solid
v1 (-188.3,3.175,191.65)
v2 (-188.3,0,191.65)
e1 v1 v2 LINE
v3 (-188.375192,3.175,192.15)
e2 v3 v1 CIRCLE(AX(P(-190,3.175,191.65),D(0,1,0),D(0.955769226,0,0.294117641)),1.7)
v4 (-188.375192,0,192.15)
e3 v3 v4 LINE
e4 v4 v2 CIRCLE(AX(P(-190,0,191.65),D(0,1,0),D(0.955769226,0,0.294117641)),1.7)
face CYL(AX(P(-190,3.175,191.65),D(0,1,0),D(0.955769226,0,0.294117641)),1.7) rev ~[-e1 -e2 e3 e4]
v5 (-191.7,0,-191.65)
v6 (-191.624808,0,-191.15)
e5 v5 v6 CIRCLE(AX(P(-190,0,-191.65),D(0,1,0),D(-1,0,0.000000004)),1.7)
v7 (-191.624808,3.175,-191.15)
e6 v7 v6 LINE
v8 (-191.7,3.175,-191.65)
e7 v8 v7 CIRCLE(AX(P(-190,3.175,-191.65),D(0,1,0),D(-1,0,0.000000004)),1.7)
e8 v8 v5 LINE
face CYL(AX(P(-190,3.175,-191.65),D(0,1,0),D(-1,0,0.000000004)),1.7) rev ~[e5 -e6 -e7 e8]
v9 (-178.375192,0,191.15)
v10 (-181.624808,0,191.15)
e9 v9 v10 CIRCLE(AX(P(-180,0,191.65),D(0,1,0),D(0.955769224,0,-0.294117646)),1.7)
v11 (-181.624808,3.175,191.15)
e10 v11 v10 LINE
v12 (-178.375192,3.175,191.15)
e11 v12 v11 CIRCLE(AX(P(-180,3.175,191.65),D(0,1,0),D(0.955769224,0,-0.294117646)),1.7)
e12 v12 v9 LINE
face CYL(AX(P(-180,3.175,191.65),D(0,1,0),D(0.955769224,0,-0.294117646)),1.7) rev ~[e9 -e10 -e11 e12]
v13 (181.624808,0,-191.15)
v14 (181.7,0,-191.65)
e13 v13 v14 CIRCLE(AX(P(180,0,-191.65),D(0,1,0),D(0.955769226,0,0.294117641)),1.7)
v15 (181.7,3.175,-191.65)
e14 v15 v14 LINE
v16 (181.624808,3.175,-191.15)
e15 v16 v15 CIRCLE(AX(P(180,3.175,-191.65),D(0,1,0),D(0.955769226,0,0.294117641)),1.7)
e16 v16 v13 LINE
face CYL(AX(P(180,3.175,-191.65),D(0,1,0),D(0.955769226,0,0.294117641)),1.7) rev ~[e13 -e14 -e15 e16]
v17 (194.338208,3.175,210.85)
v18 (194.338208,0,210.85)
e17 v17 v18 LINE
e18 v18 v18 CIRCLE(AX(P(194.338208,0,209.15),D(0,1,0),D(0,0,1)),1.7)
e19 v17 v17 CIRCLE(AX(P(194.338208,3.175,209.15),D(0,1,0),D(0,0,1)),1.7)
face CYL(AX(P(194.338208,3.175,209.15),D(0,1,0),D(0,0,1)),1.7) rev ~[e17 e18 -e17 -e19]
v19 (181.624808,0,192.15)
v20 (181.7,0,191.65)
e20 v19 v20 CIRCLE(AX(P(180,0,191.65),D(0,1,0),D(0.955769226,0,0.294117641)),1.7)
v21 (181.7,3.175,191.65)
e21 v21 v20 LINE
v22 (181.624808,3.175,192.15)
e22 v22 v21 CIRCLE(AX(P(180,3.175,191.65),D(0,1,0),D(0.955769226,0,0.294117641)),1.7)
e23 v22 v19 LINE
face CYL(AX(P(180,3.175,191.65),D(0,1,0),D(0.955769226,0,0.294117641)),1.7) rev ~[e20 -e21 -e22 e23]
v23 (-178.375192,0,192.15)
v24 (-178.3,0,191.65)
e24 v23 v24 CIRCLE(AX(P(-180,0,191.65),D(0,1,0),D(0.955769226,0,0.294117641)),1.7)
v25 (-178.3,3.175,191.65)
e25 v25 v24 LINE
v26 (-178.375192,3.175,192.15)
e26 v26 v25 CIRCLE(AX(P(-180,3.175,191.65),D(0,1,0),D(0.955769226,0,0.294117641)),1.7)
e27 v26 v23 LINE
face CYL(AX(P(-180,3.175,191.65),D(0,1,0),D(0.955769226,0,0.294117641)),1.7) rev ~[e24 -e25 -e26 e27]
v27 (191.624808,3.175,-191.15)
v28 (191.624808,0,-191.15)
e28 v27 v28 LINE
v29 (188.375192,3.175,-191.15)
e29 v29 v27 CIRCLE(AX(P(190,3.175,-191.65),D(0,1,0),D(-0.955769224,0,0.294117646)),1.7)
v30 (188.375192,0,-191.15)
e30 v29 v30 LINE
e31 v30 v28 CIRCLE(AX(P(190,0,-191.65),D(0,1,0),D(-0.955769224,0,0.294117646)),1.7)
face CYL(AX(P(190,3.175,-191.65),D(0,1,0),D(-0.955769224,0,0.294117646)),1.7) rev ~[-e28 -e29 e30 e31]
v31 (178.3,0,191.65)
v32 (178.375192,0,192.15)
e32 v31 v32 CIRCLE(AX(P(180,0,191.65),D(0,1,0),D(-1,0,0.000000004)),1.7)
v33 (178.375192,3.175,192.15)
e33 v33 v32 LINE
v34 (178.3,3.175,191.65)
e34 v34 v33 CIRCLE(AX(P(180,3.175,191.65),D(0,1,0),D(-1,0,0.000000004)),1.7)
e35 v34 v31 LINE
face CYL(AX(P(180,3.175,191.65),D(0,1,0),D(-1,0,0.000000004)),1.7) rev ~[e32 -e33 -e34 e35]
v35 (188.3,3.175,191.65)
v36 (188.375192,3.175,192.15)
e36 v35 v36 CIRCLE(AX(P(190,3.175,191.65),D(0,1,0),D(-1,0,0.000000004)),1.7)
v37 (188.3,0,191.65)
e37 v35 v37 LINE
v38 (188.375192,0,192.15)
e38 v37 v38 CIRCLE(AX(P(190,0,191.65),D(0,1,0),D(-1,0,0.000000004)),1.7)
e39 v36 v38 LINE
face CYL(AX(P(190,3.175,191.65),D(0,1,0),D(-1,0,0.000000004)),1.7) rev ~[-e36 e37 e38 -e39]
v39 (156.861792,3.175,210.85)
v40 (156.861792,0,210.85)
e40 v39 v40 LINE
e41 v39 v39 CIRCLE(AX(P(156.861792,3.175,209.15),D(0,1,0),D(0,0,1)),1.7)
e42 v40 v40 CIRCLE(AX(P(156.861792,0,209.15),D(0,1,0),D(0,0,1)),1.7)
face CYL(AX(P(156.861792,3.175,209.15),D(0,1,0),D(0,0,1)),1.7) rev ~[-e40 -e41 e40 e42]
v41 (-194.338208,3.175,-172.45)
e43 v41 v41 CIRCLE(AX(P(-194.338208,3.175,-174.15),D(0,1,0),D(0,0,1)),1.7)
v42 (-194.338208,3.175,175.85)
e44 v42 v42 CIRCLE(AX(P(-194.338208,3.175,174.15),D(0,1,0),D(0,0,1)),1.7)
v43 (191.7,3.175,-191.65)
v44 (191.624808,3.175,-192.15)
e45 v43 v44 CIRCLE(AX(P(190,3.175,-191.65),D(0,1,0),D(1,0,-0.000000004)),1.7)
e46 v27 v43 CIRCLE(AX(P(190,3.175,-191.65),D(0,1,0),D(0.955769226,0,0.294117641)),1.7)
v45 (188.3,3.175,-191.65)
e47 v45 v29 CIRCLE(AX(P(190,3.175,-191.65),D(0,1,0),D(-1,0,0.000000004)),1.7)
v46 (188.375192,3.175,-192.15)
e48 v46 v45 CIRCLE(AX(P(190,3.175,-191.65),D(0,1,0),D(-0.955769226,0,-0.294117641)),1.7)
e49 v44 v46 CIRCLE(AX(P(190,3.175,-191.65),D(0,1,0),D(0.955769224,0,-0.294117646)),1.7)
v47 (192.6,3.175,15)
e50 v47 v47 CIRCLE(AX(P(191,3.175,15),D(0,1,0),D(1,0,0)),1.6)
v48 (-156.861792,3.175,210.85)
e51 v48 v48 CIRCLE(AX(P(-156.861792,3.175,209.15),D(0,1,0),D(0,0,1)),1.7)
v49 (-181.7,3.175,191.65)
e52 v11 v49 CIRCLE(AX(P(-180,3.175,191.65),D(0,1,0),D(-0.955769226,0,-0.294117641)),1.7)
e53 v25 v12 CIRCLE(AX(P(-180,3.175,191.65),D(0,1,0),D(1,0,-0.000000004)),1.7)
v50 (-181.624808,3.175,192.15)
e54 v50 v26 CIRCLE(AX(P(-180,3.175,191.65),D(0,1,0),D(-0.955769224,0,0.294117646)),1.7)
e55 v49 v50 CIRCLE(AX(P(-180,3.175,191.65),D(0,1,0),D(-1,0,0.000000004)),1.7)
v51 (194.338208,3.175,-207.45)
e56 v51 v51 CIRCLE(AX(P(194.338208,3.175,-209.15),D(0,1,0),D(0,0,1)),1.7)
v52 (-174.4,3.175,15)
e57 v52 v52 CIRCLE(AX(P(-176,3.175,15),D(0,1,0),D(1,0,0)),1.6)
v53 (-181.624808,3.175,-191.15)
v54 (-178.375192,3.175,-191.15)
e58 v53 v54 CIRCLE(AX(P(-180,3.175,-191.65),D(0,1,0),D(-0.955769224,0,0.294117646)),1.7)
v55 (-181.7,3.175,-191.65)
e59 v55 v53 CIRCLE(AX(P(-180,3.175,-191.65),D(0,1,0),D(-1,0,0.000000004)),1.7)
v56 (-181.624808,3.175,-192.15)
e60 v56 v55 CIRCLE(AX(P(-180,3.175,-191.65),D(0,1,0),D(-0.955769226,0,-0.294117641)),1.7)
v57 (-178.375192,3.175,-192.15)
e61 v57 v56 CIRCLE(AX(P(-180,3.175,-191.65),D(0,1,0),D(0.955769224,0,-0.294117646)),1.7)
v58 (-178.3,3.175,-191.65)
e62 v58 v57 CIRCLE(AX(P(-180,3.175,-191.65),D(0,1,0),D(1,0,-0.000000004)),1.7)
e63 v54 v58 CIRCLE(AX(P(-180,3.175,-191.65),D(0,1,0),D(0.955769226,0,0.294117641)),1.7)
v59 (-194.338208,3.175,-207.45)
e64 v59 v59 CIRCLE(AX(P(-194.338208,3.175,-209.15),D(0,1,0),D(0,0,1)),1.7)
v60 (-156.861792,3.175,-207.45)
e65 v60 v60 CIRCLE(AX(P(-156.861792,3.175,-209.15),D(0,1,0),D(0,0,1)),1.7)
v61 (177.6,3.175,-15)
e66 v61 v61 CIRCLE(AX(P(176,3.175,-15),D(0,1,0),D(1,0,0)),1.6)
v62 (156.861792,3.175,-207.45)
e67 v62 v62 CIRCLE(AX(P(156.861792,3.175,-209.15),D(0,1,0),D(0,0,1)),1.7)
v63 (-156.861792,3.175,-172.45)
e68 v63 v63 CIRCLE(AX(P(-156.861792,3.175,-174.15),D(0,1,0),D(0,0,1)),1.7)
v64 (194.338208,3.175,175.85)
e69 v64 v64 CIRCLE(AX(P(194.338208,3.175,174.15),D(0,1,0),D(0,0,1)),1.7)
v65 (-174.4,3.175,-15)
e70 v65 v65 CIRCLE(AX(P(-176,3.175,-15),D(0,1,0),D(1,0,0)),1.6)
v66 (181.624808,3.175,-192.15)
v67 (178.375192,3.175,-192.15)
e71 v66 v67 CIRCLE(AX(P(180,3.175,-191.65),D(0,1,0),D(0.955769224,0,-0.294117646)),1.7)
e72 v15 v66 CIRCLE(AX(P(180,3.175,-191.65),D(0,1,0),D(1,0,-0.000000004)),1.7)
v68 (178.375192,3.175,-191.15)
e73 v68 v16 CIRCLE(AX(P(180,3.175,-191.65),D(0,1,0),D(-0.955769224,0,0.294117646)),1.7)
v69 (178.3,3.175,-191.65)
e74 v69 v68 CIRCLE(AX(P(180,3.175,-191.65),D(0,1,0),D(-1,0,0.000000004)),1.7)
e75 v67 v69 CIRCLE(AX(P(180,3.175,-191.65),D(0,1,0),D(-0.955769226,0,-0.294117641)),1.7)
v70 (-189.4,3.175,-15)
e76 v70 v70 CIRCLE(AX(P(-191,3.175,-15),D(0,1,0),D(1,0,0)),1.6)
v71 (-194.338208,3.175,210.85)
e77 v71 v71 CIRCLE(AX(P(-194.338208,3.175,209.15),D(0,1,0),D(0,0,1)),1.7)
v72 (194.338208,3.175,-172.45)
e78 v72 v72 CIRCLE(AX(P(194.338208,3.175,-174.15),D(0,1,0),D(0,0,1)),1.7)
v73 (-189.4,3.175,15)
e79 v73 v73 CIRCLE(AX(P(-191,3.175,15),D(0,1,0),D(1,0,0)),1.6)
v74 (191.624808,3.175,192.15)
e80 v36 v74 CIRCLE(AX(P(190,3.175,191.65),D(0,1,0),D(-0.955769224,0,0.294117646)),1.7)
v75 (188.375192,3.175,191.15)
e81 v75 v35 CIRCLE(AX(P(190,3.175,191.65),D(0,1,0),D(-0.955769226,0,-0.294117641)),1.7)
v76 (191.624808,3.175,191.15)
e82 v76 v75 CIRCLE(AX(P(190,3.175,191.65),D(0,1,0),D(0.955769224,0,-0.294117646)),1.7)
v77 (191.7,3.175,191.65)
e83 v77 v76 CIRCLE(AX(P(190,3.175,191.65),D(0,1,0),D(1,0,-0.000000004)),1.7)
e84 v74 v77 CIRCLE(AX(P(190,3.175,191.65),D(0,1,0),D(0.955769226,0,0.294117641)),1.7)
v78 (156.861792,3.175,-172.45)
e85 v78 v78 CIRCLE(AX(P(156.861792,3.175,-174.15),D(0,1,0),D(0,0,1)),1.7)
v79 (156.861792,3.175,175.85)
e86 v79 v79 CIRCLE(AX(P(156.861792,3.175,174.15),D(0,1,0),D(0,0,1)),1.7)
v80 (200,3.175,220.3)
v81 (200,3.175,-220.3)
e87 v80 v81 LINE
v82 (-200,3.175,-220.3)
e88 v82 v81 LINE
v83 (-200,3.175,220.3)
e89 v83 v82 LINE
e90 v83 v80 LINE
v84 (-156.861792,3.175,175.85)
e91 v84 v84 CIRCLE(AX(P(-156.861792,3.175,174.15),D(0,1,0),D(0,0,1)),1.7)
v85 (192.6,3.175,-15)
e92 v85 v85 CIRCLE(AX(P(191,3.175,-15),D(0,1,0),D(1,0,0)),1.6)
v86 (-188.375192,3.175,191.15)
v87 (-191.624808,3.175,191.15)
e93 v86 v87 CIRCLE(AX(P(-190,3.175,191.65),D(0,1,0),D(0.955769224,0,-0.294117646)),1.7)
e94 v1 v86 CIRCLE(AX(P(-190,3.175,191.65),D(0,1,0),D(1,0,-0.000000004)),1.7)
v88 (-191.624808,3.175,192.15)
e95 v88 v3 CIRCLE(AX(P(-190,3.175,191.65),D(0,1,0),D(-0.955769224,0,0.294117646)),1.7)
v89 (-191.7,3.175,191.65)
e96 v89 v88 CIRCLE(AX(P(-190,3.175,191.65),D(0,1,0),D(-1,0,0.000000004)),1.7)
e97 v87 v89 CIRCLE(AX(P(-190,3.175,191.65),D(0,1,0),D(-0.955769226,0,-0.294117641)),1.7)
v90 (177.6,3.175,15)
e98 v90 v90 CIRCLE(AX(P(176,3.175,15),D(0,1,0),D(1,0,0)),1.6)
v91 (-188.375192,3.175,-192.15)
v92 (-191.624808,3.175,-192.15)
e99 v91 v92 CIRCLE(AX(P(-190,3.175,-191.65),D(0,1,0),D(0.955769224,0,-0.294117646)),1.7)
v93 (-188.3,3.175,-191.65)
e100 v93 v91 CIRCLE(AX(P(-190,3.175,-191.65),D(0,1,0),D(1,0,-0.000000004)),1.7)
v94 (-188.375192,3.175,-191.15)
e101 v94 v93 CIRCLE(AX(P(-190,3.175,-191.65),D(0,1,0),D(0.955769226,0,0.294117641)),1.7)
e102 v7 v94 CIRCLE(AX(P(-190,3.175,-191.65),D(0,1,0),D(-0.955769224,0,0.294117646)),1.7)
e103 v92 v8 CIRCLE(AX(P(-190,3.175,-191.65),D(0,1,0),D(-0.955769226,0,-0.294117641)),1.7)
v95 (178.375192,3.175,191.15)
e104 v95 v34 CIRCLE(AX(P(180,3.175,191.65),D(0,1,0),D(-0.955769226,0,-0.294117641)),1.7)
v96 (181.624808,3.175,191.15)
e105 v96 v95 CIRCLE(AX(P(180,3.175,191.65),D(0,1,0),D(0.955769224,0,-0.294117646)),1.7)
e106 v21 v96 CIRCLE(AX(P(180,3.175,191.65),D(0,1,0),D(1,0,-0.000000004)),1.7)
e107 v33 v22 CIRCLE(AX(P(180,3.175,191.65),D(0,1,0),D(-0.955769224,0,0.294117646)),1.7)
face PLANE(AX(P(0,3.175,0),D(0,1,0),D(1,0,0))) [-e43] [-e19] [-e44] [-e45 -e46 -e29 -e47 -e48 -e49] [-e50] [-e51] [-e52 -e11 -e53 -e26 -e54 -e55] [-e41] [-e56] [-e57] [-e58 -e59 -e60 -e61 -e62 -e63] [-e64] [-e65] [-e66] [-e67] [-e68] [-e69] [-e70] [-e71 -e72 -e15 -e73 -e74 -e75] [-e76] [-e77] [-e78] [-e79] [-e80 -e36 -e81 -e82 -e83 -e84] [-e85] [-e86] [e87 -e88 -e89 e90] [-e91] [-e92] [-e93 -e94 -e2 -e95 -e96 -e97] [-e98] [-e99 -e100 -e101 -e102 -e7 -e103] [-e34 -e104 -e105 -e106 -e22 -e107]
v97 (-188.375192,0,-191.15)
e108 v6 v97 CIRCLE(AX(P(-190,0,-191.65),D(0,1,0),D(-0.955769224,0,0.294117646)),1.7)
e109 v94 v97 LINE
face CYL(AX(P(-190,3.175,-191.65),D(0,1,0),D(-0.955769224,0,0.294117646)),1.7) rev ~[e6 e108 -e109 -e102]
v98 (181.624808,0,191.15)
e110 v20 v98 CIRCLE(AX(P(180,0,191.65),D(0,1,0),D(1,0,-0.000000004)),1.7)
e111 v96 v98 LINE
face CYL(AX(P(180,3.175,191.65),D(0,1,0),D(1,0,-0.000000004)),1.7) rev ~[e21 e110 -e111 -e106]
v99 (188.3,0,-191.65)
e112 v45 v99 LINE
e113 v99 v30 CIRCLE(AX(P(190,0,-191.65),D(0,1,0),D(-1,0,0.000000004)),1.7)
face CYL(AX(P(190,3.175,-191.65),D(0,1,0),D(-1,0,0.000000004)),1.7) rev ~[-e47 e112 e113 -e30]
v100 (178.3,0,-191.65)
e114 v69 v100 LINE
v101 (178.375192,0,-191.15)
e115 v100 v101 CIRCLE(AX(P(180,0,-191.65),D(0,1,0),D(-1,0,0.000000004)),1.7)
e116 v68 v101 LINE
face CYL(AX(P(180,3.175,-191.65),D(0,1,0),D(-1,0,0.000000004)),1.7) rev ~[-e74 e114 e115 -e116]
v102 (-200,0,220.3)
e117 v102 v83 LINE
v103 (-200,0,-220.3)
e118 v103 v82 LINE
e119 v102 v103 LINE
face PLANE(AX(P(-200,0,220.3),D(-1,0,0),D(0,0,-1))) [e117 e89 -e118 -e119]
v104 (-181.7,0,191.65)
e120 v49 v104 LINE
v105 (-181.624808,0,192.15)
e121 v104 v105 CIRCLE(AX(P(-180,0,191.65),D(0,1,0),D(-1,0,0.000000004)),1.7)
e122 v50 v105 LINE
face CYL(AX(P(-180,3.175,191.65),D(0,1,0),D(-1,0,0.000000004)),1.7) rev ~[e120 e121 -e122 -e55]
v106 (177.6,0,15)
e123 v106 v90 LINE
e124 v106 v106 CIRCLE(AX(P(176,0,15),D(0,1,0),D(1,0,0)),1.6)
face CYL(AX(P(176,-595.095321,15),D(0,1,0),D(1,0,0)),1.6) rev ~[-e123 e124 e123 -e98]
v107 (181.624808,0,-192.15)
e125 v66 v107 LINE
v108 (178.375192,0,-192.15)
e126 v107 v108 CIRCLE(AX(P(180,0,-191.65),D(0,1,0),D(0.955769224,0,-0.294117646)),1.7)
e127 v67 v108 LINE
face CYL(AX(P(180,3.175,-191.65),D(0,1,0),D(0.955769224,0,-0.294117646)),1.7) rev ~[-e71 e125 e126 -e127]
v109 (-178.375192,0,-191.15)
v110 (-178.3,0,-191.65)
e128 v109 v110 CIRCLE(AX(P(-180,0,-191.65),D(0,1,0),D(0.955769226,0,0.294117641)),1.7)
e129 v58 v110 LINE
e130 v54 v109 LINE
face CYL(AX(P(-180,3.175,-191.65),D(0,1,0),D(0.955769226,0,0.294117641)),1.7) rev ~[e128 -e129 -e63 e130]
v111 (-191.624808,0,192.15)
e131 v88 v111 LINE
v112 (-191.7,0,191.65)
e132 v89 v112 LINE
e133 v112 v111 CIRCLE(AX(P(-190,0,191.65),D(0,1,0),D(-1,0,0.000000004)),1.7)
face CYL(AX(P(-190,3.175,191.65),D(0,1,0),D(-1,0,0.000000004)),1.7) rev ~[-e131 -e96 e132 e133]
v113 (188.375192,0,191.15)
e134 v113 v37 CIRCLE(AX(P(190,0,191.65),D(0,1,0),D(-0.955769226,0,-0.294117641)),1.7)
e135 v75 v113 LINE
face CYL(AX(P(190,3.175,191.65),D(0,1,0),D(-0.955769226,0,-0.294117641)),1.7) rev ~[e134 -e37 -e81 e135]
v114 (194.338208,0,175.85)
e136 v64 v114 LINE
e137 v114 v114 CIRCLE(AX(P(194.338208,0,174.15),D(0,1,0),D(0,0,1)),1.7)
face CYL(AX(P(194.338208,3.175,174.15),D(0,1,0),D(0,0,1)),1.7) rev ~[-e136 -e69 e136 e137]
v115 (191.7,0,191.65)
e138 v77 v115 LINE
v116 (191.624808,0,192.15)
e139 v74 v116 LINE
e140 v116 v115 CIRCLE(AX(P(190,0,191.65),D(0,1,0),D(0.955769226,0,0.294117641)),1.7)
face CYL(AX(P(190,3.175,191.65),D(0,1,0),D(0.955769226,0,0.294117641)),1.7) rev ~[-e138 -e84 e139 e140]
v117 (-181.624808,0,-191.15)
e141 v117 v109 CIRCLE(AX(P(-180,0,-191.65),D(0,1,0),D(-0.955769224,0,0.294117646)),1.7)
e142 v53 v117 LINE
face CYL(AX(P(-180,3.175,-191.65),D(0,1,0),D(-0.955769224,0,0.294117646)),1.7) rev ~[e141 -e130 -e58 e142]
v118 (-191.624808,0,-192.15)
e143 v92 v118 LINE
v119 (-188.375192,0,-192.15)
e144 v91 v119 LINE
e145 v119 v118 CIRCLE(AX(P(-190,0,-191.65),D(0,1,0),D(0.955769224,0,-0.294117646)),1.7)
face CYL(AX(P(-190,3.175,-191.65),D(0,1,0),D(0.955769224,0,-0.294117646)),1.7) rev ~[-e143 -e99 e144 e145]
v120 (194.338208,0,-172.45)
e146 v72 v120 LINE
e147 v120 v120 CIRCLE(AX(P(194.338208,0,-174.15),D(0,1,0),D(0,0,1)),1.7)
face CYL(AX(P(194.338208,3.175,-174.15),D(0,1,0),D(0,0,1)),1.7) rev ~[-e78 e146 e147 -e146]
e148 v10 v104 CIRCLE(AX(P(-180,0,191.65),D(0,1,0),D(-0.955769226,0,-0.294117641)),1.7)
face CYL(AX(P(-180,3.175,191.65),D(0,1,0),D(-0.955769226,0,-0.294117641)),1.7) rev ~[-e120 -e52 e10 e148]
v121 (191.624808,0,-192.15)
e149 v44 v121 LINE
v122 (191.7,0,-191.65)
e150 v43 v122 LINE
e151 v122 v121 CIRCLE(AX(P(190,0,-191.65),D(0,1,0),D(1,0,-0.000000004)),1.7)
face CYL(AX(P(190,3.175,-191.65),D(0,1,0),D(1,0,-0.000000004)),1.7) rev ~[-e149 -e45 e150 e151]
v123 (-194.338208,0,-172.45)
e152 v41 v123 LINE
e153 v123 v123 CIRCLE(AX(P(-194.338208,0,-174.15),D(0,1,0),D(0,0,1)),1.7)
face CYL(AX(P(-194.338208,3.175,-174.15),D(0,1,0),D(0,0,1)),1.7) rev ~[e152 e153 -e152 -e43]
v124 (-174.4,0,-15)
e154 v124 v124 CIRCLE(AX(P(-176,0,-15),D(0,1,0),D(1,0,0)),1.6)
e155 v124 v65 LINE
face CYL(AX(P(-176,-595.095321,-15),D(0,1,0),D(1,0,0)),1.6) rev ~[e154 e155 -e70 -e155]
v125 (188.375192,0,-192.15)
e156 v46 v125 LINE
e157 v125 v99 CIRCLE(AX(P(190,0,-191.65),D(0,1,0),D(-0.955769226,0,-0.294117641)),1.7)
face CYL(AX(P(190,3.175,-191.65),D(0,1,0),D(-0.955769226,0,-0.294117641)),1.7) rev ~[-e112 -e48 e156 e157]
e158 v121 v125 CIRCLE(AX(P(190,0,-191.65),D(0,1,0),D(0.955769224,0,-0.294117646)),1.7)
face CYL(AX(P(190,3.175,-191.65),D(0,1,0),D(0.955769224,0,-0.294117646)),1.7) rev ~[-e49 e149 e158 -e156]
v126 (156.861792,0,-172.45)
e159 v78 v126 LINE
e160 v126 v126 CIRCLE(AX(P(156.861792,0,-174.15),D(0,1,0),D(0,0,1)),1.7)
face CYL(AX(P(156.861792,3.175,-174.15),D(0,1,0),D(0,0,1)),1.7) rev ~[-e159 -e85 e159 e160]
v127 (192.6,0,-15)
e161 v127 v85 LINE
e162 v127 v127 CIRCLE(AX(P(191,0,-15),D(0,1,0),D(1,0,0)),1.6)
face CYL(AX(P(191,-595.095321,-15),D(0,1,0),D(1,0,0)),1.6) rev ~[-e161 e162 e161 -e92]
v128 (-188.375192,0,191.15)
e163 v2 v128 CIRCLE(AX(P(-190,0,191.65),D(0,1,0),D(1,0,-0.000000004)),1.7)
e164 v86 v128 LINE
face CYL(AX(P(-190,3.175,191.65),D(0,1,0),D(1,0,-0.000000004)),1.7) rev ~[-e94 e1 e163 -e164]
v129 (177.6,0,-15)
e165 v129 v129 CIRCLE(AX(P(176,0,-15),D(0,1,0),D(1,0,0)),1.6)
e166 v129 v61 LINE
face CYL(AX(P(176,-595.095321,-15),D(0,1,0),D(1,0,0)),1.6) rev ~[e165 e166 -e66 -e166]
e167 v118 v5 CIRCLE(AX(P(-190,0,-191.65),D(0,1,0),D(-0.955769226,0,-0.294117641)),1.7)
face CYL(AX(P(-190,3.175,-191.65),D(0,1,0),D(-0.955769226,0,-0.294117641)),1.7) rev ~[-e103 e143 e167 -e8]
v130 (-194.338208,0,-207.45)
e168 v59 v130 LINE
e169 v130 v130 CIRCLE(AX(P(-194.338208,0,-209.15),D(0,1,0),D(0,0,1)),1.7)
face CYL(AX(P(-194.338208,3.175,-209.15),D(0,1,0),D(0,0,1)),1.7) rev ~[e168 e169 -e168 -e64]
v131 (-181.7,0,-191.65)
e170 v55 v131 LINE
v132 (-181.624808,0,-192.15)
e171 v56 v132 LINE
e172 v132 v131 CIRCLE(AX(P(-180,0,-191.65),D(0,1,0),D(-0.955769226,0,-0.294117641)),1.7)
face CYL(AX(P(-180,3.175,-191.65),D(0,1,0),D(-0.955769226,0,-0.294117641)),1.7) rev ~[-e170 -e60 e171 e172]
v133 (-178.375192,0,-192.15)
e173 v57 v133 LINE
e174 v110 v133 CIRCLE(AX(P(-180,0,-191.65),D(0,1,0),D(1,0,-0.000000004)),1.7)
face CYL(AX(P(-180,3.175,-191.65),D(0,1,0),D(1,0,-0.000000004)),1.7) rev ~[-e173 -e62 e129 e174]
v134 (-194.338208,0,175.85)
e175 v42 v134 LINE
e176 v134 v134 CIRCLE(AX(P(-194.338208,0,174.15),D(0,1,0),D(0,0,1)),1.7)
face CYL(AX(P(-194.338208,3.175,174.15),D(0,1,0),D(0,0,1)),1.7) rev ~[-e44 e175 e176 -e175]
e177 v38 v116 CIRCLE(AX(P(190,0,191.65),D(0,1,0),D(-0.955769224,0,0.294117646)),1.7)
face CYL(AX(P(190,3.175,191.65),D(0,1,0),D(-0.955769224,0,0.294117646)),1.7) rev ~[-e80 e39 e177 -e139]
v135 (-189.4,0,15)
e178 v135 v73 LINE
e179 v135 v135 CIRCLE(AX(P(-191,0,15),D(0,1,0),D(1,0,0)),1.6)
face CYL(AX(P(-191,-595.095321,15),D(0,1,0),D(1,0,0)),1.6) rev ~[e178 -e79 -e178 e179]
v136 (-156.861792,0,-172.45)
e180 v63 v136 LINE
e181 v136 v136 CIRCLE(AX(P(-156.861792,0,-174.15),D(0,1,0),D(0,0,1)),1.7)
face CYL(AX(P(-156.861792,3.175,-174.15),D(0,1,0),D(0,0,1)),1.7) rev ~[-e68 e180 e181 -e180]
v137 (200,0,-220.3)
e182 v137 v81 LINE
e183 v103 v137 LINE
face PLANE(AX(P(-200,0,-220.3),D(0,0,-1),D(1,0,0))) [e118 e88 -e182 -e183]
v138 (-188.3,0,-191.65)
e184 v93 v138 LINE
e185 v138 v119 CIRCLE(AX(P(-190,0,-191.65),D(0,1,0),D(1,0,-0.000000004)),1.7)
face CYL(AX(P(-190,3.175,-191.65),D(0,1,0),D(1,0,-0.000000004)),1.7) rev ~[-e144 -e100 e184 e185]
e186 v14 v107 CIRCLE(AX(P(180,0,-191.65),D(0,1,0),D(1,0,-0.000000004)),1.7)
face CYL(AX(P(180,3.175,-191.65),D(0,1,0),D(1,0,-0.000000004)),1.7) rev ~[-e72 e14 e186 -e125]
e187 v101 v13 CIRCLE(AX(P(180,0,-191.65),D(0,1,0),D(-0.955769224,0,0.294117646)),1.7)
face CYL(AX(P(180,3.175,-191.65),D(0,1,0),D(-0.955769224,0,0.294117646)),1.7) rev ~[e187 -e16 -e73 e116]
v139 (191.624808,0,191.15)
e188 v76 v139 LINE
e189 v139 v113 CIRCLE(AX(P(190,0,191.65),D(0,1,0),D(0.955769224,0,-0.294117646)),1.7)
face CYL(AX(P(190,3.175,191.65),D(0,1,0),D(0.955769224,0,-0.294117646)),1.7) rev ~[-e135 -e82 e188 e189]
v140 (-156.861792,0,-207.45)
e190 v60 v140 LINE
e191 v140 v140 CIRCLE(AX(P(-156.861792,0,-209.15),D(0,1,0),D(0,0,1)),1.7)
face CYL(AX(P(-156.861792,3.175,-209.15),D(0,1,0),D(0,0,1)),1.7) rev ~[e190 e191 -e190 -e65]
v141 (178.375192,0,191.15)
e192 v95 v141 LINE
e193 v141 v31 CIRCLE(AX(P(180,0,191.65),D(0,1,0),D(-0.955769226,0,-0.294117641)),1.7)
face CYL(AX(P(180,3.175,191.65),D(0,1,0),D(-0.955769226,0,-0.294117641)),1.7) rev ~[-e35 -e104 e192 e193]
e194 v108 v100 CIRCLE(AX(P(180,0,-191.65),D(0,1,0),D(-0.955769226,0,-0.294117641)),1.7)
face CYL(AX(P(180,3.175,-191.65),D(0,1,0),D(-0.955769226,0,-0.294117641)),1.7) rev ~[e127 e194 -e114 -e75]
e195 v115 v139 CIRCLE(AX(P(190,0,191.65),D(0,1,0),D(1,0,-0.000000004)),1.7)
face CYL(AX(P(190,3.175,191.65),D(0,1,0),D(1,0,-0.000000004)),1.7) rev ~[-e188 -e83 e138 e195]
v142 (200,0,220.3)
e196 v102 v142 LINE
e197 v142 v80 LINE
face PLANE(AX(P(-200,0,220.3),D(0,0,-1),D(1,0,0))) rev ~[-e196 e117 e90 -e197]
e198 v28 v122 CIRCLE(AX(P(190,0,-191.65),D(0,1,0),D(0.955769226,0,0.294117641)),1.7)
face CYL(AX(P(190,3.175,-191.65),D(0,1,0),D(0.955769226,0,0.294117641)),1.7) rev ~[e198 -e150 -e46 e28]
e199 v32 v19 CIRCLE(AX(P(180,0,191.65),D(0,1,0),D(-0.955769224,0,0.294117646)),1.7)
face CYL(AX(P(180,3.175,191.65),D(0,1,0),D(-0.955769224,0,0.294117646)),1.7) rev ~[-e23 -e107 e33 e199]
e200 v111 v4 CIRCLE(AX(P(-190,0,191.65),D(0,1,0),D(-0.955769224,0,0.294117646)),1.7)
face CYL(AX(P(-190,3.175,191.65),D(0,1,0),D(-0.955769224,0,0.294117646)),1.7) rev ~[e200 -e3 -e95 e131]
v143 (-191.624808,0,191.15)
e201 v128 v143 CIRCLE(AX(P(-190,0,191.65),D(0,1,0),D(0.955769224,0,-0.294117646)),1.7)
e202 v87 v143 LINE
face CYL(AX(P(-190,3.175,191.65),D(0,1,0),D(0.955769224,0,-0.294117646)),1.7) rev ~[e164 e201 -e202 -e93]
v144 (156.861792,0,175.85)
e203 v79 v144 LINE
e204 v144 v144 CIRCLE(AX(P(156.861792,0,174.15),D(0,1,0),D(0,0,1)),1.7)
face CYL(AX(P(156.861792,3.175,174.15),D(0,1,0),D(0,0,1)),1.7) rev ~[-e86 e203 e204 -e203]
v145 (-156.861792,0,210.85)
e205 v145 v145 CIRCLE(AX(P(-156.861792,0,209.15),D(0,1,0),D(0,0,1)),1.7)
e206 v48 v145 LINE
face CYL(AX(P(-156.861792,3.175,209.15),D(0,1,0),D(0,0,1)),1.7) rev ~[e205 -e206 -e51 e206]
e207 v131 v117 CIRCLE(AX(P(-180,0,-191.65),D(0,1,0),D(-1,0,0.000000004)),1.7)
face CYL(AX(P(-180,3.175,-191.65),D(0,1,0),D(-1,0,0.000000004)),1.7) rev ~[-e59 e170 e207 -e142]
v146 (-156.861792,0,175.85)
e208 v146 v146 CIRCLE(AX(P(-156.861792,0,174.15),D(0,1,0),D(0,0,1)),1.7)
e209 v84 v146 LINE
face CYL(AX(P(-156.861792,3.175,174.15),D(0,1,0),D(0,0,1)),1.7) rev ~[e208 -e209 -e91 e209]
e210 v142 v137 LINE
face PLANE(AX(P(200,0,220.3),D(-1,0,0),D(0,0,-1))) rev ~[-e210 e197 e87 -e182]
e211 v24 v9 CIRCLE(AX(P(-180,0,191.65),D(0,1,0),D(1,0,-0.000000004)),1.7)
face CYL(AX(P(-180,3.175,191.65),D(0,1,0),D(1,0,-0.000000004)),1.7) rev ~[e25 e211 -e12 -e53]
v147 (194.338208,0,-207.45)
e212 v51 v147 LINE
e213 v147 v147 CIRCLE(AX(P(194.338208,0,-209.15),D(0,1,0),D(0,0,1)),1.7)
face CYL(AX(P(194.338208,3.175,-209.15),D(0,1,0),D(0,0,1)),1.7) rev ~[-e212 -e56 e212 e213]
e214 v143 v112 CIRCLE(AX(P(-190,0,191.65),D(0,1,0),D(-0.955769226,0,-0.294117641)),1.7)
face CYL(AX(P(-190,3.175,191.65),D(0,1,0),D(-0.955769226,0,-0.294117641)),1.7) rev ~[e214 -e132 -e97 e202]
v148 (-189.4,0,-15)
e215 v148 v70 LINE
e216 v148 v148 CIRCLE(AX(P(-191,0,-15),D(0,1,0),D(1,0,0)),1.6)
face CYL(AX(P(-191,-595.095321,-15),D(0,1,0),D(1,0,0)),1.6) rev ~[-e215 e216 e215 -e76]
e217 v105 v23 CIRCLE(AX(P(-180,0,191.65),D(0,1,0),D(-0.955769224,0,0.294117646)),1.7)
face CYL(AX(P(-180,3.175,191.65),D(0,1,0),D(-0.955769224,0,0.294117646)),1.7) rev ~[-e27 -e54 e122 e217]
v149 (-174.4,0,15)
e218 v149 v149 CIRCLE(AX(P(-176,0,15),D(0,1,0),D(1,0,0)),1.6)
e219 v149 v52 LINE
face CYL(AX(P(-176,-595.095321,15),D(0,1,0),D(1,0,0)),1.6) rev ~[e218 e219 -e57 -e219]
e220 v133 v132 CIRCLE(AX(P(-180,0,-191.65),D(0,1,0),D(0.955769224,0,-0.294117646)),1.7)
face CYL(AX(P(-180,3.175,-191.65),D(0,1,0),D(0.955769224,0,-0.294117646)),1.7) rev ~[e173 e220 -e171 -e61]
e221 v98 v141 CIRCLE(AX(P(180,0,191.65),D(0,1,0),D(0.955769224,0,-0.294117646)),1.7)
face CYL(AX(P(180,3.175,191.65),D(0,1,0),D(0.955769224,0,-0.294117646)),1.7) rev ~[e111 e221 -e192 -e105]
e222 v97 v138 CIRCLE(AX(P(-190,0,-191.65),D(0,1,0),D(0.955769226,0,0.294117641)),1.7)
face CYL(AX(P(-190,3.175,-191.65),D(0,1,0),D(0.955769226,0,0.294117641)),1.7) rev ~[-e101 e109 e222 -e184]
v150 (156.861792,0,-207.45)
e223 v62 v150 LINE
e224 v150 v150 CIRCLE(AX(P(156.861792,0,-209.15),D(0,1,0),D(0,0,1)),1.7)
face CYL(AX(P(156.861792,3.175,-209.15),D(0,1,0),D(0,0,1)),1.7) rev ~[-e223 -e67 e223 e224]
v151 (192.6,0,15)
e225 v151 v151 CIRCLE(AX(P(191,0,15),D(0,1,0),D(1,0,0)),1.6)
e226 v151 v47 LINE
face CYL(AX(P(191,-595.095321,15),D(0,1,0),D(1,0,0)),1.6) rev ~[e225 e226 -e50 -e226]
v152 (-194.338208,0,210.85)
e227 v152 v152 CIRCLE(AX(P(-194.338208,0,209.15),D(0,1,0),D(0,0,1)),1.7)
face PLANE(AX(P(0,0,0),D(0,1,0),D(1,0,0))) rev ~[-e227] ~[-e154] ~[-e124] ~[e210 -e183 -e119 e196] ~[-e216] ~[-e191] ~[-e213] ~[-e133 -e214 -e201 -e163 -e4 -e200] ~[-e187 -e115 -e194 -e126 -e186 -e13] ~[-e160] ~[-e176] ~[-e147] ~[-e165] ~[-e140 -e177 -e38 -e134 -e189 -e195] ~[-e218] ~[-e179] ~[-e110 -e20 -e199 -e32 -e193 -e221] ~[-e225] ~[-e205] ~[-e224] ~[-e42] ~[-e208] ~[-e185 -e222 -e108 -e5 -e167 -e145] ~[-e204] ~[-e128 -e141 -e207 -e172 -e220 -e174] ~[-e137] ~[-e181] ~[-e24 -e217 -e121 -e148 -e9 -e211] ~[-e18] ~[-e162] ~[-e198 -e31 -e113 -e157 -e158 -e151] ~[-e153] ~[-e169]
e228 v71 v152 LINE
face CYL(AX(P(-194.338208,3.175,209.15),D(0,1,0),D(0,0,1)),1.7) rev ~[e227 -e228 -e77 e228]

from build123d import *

# Parameters (mm, degrees)
SKETCH1_W            = 400
SKETCH1_H            = 440.6
BOSS_EXTRUDE1_DEPTH  = 3.175
SKETCH2_R            = 1.7
CUT_EXTRUDE1_DEPTH   = 298.560364674
M3_CLEARANCE_HOLE1_D = 3.2


with BuildPart() as part:
    # Sketch1 → Boss-Extrude1 (new body)
    with BuildSketch(Plane(origin=(0, 0, 0), x_dir=(1, 0, 0), z_dir=(0, 1, 0))):
        Rectangle(SKETCH1_W, SKETCH1_H)
    extrude(amount=BOSS_EXTRUDE1_DEPTH)

    # Sketch2 → Cut-Extrude1 (cut, through all)
    with BuildSketch(Plane(origin=(0, 3.175, 0), x_dir=(1, 0, 0), z_dir=(0, 1, 0))):
        with Locations(Location((-156.861792453, 174.15, 0), (0, 0, 270))):
            Circle(SKETCH2_R)
        with Locations(Location((-194.338207547, 174.15, 0), (0, 0, 270))):
            Circle(SKETCH2_R)
        with Locations(Location((-156.861792453, 209.15, 0), (0, 0, 270))):
            Circle(SKETCH2_R)
        with Locations(Location((-194.338207547, 209.15, 0), (0, 0, 270))):
            Circle(SKETCH2_R)
        with Locations(Location((-156.861792453, -209.15, 0), (0, 0, 270))):
            Circle(SKETCH2_R)
        with Locations(Location((-194.338207547, -209.15, 0), (0, 0, 270))):
            Circle(SKETCH2_R)
        with Locations(Location((-156.861792453, -174.15, 0), (0, 0, 270))):
            Circle(SKETCH2_R)
        with Locations(Location((-194.338207547, -174.15, 0), (0, 0, 270))):
            Circle(SKETCH2_R)
        with Locations(Location((194.338207547, -174.15, 0), (0, 0, 270))):
            Circle(SKETCH2_R)
        with Locations(Location((156.861792453, -174.15, 0), (0, 0, 270))):
            Circle(SKETCH2_R)
        with Locations(Location((194.338207547, -209.15, 0), (0, 0, 270))):
            Circle(SKETCH2_R)
        with Locations(Location((156.861792453, -209.15, 0), (0, 0, 270))):
            Circle(SKETCH2_R)
        with Locations(Location((194.338207547, 174.15, 0), (0, 0, 270))):
            Circle(SKETCH2_R)
        with Locations(Location((194.338207547, 209.15, 0), (0, 0, 270))):
            Circle(SKETCH2_R)
        with Locations(Location((156.861792453, 174.15, 0), (0, 0, 270))):
            Circle(SKETCH2_R)
        with Locations(Location((156.861792453, 209.15, 0), (0, 0, 270))):
            Circle(SKETCH2_R)
        with BuildLine():
            ThreePointArc((-181.7, 191.650000004), (-181.681096823, 191.397188868), (-181.624807682, 191.150000006))
            ThreePointArc((-181.624807682, 191.150000006), (-180, 189.950000004), (-178.375192318, 191.150000006))
            ThreePointArc((-178.375192318, 191.150000006), (-178.318903177, 191.397188868), (-178.3, 191.650000004))
            ThreePointArc((-178.3, 191.650000004), (-178.318903177, 191.90281114), (-178.375192318, 192.150000002))
            ThreePointArc((-178.375192318, 192.150000002), (-180, 193.350000004), (-181.624807682, 192.150000002))
            ThreePointArc((-181.624807682, 192.150000002), (-181.681096823, 191.90281114), (-181.7, 191.650000004))
        make_face()
        with BuildLine():
            ThreePointArc((-188.375192318, 192.150000002), (-190, 193.350000004), (-191.624807682, 192.150000002))
            ThreePointArc((-191.624807682, 192.150000002), (-191.681096823, 191.90281114), (-191.7, 191.650000004))
            ThreePointArc((-191.7, 191.650000004), (-191.681096823, 191.397188868), (-191.624807682, 191.150000006))
            ThreePointArc((-191.624807682, 191.150000006), (-190, 189.950000004), (-188.375192318, 191.150000006))
            ThreePointArc((-188.375192318, 191.150000006), (-188.318903177, 191.397188868), (-188.3, 191.650000004))
            ThreePointArc((-188.3, 191.650000004), (-188.318903177, 191.90281114), (-188.375192318, 192.150000002))
        make_face()
        with BuildLine():
            ThreePointArc((-178.375192318, -192.150000002), (-178.318903177, -191.90281114), (-178.3, -191.650000004))
            ThreePointArc((-178.3, -191.650000004), (-178.318903177, -191.397188868), (-178.375192318, -191.150000006))
            ThreePointArc((-178.375192318, -191.150000006), (-180, -189.950000004), (-181.624807682, -191.150000006))
            ThreePointArc((-181.624807682, -191.150000006), (-181.681096823, -191.397188868), (-181.7, -191.650000004))
            ThreePointArc((-181.7, -191.650000004), (-181.681096823, -191.90281114), (-181.624807682, -192.150000002))
            ThreePointArc((-181.624807682, -192.150000002), (-180, -193.350000004), (-178.375192318, -192.150000002))
        make_face()
        with BuildLine():
            ThreePointArc((-191.624807682, -192.150000002), (-190, -193.350000004), (-188.375192318, -192.150000002))
            ThreePointArc((-188.375192318, -192.150000002), (-188.318903177, -191.90281114), (-188.3, -191.650000004))
            ThreePointArc((-188.3, -191.650000004), (-188.318903177, -191.397188868), (-188.375192318, -191.150000006))
            ThreePointArc((-188.375192318, -191.150000006), (-190, -189.950000004), (-191.624807682, -191.150000006))
            ThreePointArc((-191.624807682, -191.150000006), (-191.681096823, -191.397188868), (-191.7, -191.650000004))
            ThreePointArc((-191.7, -191.650000004), (-191.681096823, -191.90281114), (-191.624807682, -192.150000002))
        make_face()
        with BuildLine():
            ThreePointArc((191.624807682, -192.150000002), (191.681096823, -191.90281114), (191.7, -191.650000004))
            ThreePointArc((191.7, -191.650000004), (191.681096823, -191.397188868), (191.624807682, -191.150000006))
            ThreePointArc((191.624807682, -191.150000006), (190, -189.950000004), (188.375192318, -191.150000006))
            ThreePointArc((188.375192318, -191.150000006), (188.318903177, -191.397188868), (188.3, -191.650000004))
            ThreePointArc((188.3, -191.650000004), (188.318903177, -191.90281114), (188.375192318, -192.150000002))
            ThreePointArc((188.375192318, -192.150000002), (190, -193.350000004), (191.624807682, -192.150000002))
        make_face()
        with BuildLine():
            ThreePointArc((181.624807682, -192.150000002), (181.681096823, -191.90281114), (181.7, -191.650000004))
            ThreePointArc((181.7, -191.650000004), (181.681096823, -191.397188868), (181.624807682, -191.150000006))
            ThreePointArc((181.624807682, -191.150000006), (180, -189.950000004), (178.375192318, -191.150000006))
            ThreePointArc((178.375192318, -191.150000006), (178.318903177, -191.397188868), (178.3, -191.650000004))
            ThreePointArc((178.3, -191.650000004), (178.318903177, -191.90281114), (178.375192318, -192.150000002))
            ThreePointArc((178.375192318, -192.150000002), (180, -193.350000004), (181.624807682, -192.150000002))
        make_face()
        with BuildLine():
            ThreePointArc((188.375192318, 192.150000002), (188.318903177, 191.90281114), (188.3, 191.650000004))
            ThreePointArc((188.3, 191.650000004), (188.318903177, 191.397188868), (188.375192318, 191.150000006))
            ThreePointArc((188.375192318, 191.150000006), (190, 189.950000004), (191.624807682, 191.150000006))
            ThreePointArc((191.624807682, 191.150000006), (191.681096823, 191.397188868), (191.7, 191.650000004))
            ThreePointArc((191.7, 191.650000004), (191.681096823, 191.90281114), (191.624807682, 192.150000002))
            ThreePointArc((191.624807682, 192.150000002), (190, 193.350000004), (188.375192318, 192.150000002))
        make_face()
        with BuildLine():
            ThreePointArc((181.624807682, 191.150000006), (181.681096823, 191.397188868), (181.7, 191.650000004))
            ThreePointArc((181.7, 191.650000004), (181.681096823, 191.90281114), (181.624807682, 192.150000002))
            ThreePointArc((181.624807682, 192.150000002), (180, 193.350000004), (178.375192318, 192.150000002))
            ThreePointArc((178.375192318, 192.150000002), (178.318903177, 191.90281114), (178.3, 191.650000004))
            ThreePointArc((178.3, 191.650000004), (178.318903177, 191.397188868), (178.375192318, 191.150000006))
            ThreePointArc((178.375192318, 191.150000006), (180, 189.950000004), (181.624807682, 191.150000006))
        make_face()
    extrude(amount=-CUT_EXTRUDE1_DEPTH, mode=Mode.SUBTRACT)

    # M3 Clearance Hole1 (through all)
    with Locations(Plane(origin=(0, 0, 0), x_dir=(-1, 0, 0), z_dir=(0, -1, 0))):
        with Locations((-176, -15), (-191, 15), (-191, -15), (-176, 15), (191, -15), (176, 15), (176, -15), (191, 15)):
            Hole(M3_CLEARANCE_HOLE1_D / 2)


solid = part.part
